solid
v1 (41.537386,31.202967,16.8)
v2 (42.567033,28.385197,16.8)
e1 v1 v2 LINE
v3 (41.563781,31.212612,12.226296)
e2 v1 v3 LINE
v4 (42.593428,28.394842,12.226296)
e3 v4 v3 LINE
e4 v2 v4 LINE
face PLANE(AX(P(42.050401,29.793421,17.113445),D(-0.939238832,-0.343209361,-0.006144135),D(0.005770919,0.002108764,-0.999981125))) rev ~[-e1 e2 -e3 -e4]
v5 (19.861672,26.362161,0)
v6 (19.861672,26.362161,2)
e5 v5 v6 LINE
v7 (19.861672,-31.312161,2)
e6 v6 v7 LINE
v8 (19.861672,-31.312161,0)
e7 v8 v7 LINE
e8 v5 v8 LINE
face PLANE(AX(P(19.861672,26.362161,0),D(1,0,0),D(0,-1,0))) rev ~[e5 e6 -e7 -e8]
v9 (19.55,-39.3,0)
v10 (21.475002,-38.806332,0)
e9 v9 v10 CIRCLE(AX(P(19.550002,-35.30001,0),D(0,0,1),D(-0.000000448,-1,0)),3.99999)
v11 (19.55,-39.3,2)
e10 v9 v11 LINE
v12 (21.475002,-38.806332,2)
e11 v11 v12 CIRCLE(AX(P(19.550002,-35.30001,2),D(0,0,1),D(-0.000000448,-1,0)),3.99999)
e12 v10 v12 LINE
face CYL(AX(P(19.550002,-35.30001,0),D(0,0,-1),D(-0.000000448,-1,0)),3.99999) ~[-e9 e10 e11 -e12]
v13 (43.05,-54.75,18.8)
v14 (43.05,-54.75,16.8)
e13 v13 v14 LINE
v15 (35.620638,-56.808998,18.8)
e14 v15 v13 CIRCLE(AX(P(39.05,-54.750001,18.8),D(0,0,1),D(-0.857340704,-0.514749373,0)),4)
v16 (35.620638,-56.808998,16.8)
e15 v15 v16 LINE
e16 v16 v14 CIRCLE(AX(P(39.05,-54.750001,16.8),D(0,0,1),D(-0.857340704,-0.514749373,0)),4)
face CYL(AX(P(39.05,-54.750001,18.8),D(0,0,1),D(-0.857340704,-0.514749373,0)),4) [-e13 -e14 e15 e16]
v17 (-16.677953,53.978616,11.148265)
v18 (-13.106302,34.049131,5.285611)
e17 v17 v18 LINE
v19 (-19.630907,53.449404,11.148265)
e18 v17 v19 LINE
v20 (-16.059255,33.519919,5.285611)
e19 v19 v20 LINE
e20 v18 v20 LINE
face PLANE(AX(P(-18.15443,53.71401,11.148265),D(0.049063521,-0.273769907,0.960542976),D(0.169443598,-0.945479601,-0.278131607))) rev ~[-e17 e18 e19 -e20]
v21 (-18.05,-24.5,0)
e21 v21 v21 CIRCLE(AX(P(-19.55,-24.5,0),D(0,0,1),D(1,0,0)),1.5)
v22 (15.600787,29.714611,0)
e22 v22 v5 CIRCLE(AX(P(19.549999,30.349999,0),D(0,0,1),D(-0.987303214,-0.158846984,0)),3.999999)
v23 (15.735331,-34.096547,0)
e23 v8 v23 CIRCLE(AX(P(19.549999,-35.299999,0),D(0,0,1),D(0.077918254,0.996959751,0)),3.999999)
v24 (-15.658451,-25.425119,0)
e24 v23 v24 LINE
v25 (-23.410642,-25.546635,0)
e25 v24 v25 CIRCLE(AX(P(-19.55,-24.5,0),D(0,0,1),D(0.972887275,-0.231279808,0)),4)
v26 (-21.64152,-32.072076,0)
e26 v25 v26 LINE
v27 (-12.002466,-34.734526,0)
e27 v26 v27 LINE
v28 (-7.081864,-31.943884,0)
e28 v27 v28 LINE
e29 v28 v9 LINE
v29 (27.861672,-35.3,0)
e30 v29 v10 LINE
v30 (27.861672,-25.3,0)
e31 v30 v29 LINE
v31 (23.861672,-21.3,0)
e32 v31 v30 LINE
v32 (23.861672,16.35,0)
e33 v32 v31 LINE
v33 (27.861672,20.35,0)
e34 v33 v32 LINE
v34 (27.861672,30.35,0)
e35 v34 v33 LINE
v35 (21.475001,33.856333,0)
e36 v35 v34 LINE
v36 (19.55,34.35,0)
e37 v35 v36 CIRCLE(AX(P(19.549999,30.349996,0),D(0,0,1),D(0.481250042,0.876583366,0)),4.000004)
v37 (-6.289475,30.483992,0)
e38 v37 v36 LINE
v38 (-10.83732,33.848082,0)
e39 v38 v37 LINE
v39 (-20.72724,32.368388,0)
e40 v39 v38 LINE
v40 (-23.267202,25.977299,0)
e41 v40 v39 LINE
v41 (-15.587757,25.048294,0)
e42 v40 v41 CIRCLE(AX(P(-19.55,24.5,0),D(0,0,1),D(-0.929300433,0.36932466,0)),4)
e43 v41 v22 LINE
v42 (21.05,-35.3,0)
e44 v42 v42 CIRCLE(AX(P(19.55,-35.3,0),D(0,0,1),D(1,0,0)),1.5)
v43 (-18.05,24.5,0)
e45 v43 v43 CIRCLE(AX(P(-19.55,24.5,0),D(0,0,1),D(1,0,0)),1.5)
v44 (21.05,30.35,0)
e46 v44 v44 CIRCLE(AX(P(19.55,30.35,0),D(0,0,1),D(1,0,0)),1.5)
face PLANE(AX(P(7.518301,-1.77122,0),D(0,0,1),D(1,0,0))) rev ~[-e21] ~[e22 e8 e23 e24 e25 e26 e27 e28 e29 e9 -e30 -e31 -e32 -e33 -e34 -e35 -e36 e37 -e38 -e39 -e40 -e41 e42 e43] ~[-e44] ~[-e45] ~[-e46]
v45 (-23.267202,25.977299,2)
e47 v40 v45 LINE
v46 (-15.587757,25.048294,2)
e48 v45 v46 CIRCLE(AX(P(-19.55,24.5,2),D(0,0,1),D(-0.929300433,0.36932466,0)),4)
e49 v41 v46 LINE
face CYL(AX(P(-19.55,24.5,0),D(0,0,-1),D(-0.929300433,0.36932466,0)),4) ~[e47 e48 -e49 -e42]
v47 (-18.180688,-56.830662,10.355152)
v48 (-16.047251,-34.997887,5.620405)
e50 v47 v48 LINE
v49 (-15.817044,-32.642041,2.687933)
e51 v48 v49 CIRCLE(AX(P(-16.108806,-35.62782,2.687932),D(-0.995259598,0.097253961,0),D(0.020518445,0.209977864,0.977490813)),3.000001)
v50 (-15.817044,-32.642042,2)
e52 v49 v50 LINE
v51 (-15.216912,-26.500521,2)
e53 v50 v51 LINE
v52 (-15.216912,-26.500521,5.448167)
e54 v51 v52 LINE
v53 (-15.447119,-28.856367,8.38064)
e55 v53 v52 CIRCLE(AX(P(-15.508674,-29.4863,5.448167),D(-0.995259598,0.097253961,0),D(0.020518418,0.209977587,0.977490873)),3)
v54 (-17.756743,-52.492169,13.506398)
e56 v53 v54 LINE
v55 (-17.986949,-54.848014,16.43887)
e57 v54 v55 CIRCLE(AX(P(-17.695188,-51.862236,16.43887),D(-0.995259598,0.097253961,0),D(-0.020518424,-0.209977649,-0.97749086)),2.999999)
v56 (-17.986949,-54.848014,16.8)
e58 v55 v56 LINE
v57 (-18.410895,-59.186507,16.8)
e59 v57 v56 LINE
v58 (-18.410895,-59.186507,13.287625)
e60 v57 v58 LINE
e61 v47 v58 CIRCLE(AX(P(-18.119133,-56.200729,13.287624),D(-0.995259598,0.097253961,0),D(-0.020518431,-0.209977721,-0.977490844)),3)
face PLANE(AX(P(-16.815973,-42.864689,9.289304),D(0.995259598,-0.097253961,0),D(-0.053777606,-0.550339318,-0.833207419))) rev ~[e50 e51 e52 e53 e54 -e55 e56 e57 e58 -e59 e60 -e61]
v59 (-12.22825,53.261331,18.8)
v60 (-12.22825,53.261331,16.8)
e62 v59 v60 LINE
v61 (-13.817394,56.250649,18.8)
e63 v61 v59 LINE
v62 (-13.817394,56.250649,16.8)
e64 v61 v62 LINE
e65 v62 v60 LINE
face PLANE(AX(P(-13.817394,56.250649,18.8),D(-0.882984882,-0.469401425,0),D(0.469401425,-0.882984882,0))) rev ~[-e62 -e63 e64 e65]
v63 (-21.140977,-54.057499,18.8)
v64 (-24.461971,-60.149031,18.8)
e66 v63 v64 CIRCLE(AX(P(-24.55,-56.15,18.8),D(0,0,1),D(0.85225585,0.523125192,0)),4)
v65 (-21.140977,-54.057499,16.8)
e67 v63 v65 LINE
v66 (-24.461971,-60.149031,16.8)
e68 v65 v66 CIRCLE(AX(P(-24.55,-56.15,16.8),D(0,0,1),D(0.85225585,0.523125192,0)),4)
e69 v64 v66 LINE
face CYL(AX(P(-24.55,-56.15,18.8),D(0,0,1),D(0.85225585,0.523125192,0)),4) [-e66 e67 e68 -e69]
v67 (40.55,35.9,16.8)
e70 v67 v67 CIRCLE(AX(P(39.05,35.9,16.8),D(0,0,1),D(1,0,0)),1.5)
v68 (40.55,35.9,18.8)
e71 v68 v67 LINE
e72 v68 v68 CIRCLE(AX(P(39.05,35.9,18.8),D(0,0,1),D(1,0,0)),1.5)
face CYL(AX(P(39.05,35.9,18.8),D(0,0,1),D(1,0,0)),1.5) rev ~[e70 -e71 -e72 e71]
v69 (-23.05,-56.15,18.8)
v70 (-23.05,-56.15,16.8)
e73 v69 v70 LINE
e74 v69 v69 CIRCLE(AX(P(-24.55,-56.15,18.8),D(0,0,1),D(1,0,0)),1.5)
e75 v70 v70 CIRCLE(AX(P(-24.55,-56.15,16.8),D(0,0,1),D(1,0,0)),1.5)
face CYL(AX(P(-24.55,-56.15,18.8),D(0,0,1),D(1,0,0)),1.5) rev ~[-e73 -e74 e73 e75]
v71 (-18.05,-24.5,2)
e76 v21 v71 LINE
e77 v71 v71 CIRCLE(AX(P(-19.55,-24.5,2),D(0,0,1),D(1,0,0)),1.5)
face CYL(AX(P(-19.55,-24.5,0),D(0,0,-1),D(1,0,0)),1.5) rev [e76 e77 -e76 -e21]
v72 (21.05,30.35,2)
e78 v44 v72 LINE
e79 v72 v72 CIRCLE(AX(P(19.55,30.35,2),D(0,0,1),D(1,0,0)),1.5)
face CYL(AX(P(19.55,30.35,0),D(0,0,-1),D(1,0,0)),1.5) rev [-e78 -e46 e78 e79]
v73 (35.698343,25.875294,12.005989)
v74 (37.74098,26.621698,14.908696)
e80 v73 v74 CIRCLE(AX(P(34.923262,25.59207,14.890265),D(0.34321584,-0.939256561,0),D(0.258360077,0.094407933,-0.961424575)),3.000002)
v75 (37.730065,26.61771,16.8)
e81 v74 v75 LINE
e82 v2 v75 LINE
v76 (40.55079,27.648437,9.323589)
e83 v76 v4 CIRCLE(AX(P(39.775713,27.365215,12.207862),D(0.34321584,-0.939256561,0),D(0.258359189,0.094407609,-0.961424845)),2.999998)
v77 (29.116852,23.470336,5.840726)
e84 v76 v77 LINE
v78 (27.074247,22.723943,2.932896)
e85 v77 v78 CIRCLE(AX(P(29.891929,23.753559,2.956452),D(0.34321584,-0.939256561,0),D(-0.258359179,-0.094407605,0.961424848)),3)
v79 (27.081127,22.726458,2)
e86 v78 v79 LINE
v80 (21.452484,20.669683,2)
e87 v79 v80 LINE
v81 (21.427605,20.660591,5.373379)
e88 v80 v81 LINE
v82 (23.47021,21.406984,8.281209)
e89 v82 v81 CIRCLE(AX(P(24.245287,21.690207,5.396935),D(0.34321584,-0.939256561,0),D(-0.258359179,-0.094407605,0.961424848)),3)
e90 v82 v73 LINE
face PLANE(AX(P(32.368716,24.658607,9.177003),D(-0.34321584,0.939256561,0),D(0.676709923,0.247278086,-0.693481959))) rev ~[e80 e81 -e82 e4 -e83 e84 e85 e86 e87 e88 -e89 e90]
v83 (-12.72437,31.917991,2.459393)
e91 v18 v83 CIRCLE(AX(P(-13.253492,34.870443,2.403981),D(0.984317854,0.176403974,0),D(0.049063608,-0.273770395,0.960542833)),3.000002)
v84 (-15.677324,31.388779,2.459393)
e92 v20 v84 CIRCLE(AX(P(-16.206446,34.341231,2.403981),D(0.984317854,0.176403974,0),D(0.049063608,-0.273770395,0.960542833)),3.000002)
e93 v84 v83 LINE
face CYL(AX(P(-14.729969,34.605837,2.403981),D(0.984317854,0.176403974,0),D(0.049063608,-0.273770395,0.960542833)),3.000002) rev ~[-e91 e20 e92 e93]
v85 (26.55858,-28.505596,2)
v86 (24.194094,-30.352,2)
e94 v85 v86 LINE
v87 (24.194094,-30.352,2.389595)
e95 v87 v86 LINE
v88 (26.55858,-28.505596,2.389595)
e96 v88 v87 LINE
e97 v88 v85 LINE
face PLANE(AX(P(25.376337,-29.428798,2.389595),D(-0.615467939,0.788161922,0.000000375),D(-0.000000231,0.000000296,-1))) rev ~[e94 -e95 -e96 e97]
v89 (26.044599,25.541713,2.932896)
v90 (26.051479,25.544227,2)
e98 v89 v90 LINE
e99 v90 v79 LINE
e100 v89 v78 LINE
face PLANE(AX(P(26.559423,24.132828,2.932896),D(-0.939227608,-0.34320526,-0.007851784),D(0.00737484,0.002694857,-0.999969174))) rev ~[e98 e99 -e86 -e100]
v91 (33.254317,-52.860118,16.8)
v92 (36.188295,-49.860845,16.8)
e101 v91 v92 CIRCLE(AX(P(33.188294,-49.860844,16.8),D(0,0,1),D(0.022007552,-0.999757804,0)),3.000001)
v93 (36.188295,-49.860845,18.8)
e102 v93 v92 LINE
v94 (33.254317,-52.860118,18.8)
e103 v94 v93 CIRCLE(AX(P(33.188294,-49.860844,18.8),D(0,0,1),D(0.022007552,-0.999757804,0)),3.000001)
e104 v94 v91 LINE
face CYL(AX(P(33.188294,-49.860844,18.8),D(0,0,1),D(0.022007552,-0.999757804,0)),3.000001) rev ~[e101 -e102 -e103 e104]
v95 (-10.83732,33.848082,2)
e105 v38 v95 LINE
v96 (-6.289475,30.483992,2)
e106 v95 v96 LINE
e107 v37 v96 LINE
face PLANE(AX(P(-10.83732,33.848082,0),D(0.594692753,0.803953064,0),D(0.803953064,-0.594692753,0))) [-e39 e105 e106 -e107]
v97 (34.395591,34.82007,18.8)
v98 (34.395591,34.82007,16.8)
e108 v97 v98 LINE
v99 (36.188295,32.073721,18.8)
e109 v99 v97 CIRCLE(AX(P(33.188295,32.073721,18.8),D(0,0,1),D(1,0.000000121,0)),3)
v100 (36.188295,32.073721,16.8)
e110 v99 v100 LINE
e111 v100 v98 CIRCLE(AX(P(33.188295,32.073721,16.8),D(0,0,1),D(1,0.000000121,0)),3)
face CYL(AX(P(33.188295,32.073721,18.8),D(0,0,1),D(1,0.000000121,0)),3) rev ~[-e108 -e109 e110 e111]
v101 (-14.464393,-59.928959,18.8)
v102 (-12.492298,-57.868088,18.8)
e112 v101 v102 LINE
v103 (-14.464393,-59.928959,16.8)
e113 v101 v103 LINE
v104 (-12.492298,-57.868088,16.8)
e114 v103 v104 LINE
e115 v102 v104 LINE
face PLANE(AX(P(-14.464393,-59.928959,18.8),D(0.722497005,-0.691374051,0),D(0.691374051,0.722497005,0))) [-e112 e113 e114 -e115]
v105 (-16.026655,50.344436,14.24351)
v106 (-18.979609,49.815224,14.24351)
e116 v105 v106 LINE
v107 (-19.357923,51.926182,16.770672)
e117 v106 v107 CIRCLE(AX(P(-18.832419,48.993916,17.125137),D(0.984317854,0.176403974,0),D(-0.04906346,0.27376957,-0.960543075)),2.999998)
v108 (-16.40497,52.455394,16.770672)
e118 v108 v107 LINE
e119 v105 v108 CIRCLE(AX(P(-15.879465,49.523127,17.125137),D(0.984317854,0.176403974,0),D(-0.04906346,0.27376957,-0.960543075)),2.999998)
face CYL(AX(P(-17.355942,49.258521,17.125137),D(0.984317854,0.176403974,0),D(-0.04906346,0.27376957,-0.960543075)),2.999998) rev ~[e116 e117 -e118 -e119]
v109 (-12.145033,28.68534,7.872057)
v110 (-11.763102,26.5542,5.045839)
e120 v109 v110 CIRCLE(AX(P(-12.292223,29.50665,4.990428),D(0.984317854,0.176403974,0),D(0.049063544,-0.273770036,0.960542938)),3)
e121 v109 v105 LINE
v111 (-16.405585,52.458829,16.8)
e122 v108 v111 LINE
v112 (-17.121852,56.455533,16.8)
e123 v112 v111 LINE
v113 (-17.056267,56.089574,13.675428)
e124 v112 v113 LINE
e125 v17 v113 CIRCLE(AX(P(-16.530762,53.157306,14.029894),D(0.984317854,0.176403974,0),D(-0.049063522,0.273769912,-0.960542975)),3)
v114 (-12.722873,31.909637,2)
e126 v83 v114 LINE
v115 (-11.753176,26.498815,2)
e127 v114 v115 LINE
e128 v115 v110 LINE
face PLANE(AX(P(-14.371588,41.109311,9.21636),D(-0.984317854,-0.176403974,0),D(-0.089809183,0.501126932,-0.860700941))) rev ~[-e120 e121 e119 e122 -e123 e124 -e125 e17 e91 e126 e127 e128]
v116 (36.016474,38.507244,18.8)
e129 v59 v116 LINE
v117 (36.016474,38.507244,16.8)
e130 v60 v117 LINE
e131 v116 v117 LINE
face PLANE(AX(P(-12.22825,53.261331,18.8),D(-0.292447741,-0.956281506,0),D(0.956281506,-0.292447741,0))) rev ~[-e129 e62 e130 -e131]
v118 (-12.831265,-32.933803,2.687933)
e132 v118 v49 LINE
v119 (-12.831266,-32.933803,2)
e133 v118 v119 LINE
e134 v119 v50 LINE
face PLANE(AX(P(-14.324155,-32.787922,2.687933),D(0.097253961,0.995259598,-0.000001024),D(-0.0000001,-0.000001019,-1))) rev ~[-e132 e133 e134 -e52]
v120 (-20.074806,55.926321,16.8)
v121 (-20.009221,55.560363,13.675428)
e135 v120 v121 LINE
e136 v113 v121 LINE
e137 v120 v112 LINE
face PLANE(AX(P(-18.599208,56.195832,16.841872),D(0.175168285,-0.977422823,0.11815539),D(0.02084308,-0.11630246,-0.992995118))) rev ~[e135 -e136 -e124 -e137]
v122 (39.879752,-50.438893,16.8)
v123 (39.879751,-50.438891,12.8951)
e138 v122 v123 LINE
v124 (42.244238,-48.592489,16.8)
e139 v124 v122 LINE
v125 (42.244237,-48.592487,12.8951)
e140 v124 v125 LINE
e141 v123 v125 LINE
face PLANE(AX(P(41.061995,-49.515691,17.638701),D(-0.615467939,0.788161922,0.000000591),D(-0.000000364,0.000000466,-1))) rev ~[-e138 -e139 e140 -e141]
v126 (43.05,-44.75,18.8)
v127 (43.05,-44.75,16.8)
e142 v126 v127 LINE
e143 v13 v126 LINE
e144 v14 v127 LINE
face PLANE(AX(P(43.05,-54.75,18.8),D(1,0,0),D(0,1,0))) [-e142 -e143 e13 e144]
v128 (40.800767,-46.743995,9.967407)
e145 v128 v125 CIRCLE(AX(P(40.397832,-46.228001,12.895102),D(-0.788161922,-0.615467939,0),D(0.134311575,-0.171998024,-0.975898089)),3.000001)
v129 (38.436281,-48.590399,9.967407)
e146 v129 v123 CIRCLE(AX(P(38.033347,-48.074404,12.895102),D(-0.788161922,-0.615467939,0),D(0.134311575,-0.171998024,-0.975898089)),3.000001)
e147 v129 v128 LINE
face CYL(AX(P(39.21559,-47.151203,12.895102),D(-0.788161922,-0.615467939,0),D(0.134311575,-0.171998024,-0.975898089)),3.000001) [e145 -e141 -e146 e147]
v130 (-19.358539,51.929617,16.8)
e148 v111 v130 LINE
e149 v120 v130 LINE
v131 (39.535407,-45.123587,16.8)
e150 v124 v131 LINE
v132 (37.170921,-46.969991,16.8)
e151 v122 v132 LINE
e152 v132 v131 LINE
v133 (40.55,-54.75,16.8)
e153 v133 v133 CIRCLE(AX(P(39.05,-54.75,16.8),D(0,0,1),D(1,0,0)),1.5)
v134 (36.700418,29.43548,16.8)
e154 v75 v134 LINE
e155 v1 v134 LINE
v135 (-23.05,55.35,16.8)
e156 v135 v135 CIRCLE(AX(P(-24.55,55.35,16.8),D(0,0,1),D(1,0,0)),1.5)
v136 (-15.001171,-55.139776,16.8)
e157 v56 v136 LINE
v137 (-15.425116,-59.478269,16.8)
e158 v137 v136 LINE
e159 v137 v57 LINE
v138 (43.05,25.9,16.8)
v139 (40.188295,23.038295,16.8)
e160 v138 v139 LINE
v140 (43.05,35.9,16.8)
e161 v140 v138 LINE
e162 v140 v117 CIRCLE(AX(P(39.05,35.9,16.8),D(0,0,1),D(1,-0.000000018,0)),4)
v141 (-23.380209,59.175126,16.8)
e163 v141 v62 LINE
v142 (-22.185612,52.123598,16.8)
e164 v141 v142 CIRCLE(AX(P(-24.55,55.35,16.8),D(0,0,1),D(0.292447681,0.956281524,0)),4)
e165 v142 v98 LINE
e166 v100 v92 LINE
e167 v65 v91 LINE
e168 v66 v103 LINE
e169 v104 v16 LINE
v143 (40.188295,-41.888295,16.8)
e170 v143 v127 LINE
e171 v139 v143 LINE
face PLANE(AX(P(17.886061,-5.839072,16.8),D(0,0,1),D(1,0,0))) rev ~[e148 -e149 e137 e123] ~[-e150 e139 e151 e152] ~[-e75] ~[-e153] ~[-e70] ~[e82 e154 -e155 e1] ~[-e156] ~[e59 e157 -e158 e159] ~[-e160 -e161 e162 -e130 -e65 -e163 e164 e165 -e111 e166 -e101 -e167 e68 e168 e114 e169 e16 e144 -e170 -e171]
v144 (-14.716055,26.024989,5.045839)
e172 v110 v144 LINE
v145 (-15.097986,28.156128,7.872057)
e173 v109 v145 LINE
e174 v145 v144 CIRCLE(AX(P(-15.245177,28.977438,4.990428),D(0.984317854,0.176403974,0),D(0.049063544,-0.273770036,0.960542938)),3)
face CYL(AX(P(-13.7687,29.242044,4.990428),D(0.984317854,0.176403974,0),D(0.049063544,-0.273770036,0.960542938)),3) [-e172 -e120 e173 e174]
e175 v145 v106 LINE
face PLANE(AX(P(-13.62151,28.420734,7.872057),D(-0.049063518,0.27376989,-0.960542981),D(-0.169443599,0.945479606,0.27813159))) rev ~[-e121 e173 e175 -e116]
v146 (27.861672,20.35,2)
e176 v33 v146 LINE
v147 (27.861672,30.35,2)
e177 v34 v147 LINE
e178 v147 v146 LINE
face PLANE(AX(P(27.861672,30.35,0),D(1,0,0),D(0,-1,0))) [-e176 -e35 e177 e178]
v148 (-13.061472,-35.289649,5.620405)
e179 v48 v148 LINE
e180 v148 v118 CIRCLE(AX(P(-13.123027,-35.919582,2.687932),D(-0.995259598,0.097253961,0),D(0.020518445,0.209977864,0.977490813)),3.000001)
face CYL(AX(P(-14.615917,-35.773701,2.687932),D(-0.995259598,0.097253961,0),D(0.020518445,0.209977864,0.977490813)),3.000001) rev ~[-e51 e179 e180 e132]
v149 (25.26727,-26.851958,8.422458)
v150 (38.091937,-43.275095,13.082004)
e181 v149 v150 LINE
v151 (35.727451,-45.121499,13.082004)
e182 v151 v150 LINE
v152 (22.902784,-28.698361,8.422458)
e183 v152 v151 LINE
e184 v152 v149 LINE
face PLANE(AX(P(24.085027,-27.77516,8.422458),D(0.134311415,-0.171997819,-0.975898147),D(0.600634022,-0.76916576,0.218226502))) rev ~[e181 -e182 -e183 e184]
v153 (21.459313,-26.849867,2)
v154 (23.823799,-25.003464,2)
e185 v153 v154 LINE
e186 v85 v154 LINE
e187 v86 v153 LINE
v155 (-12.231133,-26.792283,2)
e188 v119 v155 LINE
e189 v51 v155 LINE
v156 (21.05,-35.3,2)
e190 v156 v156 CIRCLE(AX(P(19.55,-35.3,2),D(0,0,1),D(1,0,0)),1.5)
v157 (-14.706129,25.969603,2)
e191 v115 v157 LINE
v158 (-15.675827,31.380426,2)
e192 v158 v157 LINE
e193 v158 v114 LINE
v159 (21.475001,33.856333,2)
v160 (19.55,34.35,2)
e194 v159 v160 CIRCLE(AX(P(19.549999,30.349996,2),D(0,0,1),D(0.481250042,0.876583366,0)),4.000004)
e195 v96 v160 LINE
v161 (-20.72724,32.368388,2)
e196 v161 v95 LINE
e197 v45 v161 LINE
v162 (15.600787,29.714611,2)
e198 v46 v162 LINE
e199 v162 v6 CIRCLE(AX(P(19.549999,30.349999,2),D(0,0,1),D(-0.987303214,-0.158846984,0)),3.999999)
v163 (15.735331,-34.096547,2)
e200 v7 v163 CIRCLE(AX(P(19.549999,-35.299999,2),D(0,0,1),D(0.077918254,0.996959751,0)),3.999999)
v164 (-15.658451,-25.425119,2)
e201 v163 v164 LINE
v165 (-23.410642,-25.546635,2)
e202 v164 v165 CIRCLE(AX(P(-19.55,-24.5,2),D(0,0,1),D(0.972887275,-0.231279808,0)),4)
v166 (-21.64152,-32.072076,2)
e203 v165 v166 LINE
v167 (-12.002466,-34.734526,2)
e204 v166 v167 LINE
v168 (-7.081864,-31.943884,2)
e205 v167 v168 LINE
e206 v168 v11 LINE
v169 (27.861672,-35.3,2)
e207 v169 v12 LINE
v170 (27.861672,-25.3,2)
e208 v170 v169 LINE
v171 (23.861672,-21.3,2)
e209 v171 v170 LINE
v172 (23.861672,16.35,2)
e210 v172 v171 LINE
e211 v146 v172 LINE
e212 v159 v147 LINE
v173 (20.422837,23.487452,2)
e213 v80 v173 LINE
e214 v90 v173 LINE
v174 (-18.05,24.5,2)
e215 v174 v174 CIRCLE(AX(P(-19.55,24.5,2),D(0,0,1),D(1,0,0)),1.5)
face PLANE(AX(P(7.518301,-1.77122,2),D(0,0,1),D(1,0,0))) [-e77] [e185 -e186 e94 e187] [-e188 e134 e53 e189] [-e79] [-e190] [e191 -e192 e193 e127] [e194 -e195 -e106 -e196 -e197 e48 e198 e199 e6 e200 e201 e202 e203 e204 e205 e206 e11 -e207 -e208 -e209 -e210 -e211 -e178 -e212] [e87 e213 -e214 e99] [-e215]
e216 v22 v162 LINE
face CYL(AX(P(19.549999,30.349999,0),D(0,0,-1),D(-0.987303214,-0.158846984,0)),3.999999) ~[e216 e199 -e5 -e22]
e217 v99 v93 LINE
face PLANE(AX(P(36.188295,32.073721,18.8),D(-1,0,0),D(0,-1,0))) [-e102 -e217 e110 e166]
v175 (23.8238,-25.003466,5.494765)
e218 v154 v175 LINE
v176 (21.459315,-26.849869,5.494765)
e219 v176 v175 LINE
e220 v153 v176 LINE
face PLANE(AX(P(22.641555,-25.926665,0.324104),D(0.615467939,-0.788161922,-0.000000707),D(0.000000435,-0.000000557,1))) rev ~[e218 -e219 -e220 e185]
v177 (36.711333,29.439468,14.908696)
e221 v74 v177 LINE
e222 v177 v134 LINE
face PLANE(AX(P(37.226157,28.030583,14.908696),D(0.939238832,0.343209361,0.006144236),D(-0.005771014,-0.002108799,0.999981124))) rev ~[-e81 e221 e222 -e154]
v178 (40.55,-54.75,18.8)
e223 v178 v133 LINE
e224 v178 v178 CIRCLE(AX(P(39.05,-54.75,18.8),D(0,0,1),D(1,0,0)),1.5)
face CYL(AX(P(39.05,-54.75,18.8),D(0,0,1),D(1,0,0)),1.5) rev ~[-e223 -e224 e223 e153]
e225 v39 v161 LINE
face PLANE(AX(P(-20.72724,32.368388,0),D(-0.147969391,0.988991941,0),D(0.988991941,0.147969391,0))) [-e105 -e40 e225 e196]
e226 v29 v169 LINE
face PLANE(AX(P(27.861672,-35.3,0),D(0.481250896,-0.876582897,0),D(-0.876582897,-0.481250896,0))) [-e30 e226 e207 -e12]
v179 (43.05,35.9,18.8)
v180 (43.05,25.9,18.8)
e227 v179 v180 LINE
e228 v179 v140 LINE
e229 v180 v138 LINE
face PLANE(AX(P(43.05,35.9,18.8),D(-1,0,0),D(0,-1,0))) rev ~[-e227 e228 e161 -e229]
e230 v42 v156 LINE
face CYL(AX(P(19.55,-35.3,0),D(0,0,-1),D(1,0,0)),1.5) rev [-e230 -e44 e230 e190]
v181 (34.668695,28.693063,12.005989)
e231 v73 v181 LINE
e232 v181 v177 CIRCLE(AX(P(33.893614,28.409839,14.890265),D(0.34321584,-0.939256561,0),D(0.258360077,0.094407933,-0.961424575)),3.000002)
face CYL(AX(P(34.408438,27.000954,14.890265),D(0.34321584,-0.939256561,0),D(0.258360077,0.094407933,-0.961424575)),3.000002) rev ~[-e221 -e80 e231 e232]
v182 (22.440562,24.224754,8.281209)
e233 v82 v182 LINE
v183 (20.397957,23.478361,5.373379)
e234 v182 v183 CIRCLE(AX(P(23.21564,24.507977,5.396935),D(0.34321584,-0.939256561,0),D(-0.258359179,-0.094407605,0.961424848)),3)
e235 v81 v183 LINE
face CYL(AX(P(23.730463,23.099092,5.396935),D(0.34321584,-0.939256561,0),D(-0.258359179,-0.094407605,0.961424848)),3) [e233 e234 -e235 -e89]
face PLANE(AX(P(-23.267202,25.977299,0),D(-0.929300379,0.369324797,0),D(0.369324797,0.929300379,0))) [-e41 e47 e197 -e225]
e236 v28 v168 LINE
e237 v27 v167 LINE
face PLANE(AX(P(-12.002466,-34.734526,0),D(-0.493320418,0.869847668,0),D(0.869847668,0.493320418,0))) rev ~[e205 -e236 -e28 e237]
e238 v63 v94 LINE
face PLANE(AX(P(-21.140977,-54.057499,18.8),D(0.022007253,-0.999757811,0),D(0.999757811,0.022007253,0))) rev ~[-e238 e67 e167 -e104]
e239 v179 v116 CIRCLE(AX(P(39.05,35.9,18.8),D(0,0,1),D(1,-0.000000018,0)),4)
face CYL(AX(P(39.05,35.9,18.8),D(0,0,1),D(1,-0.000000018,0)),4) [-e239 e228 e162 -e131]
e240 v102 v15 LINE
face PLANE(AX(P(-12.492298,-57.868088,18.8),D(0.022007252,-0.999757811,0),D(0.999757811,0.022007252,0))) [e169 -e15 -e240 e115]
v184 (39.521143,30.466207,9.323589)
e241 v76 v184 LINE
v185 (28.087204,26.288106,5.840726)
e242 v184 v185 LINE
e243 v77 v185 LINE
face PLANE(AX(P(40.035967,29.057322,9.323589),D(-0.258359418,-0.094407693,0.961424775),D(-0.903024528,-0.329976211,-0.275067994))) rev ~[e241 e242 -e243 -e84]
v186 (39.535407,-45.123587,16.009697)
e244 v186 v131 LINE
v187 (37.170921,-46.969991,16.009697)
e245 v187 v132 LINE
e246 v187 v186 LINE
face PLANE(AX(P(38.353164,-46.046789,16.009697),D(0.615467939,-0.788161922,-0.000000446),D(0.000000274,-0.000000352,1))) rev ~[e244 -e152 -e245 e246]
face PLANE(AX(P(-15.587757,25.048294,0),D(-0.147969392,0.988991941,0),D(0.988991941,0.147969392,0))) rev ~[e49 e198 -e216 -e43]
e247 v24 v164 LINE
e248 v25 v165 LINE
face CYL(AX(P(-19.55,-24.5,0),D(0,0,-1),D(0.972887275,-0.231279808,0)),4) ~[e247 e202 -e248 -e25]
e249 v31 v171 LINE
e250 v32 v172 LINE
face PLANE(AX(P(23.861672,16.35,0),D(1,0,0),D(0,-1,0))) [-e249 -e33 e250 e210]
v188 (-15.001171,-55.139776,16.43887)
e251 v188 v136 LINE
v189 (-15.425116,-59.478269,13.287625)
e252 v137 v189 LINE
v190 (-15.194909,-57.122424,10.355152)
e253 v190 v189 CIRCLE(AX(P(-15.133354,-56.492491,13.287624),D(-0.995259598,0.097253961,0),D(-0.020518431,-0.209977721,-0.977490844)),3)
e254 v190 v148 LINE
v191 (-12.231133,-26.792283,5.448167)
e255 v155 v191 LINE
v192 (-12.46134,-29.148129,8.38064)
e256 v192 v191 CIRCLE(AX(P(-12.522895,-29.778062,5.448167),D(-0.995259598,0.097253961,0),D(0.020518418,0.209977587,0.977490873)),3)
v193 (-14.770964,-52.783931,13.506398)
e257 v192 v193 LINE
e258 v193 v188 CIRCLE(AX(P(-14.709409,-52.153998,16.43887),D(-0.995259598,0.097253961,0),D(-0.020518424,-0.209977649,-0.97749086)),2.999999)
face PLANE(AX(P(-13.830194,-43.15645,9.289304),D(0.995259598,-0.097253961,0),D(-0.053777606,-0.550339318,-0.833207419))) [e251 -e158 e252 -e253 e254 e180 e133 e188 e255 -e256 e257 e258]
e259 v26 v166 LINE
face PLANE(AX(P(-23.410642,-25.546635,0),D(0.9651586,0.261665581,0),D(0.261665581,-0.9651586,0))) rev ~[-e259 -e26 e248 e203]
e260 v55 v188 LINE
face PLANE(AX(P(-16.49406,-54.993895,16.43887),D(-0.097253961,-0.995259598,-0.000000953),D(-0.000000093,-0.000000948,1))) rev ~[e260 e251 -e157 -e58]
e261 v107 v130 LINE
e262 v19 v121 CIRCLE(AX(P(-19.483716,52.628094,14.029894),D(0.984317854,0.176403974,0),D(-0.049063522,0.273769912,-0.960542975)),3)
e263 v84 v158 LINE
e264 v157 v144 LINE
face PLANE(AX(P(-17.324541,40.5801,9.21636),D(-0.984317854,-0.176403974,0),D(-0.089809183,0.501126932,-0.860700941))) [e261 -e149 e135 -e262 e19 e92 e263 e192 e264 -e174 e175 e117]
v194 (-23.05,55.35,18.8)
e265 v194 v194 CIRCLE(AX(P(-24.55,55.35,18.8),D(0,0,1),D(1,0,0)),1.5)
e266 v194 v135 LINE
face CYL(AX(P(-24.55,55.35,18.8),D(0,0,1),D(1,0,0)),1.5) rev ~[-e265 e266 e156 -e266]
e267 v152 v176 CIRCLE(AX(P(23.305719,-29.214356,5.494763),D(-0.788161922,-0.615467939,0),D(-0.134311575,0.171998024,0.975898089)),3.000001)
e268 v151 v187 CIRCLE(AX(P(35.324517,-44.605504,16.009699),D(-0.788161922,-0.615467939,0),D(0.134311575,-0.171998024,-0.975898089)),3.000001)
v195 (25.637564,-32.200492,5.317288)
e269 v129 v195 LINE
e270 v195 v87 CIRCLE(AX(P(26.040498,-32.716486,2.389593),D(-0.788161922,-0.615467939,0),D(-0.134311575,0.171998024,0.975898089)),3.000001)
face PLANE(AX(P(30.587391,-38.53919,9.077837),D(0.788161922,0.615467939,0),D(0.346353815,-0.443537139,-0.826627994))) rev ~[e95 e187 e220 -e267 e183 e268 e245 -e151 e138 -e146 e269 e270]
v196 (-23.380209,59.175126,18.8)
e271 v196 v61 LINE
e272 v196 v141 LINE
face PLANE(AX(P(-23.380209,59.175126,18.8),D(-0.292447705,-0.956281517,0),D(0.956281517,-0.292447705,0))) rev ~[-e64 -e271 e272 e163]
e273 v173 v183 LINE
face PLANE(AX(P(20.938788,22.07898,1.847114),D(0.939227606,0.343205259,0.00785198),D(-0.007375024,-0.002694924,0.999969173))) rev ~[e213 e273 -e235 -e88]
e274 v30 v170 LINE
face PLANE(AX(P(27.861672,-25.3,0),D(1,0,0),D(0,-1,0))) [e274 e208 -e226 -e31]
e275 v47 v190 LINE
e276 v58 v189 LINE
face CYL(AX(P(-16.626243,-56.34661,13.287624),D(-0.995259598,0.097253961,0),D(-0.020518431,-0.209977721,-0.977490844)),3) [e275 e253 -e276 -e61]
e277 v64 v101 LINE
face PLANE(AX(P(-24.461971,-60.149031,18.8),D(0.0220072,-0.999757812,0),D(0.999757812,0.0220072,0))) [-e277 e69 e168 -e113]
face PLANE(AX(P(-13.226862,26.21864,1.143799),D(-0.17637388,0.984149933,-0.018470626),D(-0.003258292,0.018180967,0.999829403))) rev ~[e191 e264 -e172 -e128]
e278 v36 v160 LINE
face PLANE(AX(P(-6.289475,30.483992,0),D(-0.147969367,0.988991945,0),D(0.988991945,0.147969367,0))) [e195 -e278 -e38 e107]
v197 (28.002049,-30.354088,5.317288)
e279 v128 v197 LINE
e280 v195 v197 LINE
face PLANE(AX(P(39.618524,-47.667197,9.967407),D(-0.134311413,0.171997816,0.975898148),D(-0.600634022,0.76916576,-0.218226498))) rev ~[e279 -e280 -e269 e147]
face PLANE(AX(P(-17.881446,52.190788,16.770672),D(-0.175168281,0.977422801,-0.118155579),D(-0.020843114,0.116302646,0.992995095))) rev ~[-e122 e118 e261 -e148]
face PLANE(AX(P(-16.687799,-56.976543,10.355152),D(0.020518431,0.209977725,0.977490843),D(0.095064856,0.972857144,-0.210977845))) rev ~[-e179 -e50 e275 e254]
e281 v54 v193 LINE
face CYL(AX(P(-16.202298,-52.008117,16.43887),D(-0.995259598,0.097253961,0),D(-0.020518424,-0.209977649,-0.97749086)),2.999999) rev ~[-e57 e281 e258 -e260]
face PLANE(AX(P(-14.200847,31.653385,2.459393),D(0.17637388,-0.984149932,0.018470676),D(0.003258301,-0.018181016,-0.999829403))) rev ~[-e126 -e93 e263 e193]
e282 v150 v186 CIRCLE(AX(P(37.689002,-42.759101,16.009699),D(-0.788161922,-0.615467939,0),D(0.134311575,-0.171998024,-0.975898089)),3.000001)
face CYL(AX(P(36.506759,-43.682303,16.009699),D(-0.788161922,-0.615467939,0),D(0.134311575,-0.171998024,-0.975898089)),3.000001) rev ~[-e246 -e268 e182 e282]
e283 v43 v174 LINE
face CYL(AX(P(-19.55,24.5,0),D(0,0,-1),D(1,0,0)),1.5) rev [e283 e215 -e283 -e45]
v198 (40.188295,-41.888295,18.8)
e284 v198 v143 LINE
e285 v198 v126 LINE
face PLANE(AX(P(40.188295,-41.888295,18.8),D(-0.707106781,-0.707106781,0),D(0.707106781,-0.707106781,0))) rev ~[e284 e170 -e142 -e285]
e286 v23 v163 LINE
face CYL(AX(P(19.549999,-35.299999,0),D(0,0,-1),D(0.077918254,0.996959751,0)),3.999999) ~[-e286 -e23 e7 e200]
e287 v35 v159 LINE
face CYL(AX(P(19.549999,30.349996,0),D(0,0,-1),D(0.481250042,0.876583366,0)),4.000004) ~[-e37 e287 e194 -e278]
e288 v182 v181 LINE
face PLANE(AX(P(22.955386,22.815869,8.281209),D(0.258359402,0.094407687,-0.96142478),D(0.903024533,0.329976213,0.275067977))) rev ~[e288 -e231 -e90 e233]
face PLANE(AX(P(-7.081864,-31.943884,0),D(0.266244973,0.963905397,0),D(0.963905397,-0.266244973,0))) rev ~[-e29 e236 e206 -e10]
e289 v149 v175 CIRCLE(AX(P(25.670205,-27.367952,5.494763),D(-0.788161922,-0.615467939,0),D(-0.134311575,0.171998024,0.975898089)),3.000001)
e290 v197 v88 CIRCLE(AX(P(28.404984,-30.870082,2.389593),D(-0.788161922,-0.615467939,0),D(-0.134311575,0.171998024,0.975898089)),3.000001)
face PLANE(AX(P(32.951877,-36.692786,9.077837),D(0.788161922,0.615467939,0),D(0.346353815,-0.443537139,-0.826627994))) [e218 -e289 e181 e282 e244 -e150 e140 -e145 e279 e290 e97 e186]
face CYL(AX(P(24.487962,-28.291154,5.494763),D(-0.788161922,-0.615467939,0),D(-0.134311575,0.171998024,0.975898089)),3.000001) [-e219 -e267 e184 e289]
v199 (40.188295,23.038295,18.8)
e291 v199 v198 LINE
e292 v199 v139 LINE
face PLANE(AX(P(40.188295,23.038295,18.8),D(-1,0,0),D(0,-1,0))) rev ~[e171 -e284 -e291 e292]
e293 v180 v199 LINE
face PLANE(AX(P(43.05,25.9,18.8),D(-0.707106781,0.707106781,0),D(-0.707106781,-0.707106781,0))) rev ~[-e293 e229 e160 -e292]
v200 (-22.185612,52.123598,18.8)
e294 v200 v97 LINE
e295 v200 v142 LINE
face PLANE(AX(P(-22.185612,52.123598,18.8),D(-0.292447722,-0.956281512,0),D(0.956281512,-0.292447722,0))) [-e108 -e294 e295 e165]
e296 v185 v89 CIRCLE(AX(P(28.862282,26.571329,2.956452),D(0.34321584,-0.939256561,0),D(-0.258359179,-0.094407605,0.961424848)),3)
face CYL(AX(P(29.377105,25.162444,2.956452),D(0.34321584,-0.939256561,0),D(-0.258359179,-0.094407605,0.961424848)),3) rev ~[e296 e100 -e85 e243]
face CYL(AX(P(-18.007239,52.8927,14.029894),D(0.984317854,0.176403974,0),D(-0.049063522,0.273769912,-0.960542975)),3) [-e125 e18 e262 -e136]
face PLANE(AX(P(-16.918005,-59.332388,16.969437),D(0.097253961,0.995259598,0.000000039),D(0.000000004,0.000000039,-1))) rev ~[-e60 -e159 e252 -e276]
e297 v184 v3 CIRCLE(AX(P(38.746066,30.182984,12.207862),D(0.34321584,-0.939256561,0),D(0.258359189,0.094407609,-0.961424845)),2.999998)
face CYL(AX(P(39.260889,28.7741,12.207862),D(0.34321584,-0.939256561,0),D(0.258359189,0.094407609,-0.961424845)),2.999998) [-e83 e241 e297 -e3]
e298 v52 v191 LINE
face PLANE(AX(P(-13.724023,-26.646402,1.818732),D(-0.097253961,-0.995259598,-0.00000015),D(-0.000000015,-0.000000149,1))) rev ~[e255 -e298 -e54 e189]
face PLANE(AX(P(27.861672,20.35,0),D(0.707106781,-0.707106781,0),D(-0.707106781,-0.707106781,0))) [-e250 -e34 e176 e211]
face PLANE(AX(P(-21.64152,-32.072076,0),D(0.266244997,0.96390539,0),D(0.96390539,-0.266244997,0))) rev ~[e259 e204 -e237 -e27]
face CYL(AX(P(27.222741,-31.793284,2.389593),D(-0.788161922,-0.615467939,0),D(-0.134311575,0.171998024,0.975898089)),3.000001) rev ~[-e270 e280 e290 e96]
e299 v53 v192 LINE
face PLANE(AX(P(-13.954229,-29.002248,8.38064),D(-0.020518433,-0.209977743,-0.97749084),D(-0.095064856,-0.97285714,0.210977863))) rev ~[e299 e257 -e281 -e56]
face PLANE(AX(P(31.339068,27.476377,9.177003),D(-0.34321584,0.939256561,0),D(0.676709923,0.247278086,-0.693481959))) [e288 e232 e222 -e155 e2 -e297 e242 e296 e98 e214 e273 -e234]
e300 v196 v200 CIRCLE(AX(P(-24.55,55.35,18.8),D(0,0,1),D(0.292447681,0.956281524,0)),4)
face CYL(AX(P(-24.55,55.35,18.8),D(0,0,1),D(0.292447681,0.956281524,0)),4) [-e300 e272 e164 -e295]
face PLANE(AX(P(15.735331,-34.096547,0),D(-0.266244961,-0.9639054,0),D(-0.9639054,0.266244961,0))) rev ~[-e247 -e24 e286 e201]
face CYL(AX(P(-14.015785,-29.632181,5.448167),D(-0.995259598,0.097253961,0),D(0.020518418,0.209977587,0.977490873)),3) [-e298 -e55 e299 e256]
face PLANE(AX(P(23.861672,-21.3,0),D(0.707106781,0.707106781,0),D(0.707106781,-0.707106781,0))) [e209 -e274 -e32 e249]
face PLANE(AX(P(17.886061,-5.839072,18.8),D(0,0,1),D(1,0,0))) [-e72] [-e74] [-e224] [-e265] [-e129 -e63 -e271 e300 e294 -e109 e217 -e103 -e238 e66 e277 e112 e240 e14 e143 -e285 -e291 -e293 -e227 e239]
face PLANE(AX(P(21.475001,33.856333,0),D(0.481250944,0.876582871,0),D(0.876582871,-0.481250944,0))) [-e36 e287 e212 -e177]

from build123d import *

# Parameters (mm, degrees)
PAD005_DEPTH = 1.5
PAD004_DEPTH = 1.5
PAD003_DEPTH = 1.5
PAD002_DEPTH = 1.5
SKETCH001_R  = 1.5
PAD001_DEPTH = 2
SKETCH_R     = 1.5
PAD_DEPTH    = 2


with BuildPart() as body005:
    # Sketch007 (on DatumPlane) → Pad005 (new body, symmetric)
    with BuildSketch(Plane(origin=(-16.952542, -59.685824, 18.8), x_dir=(0.053778, 0.550339, 0.833207), z_dir=(-0.99526, 0.097254, 0))):
        with BuildLine():
            Line((4.207597, 37.049782), (7.231669, 35.042847))
            ThreePointArc((8.366132, 31.449048), (8.433631, 33.446315), (7.231669, 35.042847))
            Line((8.366132, 31.449048), (-0.494965, 8.82738))
            ThreePointArc((-0.494965, 8.82738), (-0.562464, 6.830114), (0.639498, 5.233582))
            Line((0.639498, 5.233582), (1.08157, 4.940199))
            Line((1.08157, 4.940199), (-1.328872, 1.308117))
            Line((-1.328872, 1.308117), (-4.396585, 3.344014))
            ThreePointArc((-5.531049, 6.937813), (-5.598548, 4.940547), (-4.396585, 3.344014))
            Line((-5.531049, 6.937813), (2.654091, 27.833816))
            ThreePointArc((2.654091, 27.833816), (2.72159, 29.831082), (1.519628, 31.427615))
            Line((1.519628, 31.427615), (0.795403, 31.908248))
            Line((0.795403, 31.908248), (4.207597, 37.049782))
        make_face()
    extrude(amount=PAD005_DEPTH, both=True)


with BuildPart() as body004:
    # Sketch006 (on DatumPlane) → Pad004 (new body, symmetric)
    with BuildSketch(Plane(origin=(39.503273, -47.519607, 18.8), x_dir=(-0.346354, 0.443537, 0.826628), z_dir=(-0.788162, -0.615468, 0))):
        with BuildLine():
            Line((0.144699, 33.044069), (4.41891, 30.134283))
            ThreePointArc((5.519197, 26.54802), (5.598713, 28.534335), (4.41891, 30.134283))
            Line((5.519197, 26.54802), (-2.355235, 6.701201))
            ThreePointArc((-2.355235, 6.701201), (-2.434751, 4.714886), (-1.254948, 3.114938))
            Line((-1.254948, 3.114938), (0.091634, 2.198216))
            Line((0.091634, 2.198216), (-2.385169, -1.439983))
            Line((-2.385169, -1.439983), (-6.306361, 1.229475))
            ThreePointArc((-7.406648, 4.815738), (-7.486164, 2.829423), (-6.306361, 1.229475))
            Line((-7.406648, 4.815738), (0.451851, 24.622399))
            ThreePointArc((0.451851, 24.622399), (0.531367, 26.608714), (-0.648436, 28.208662))
            Line((-0.648436, 28.208662), (-2.355831, 29.371017))
            Line((-2.355831, 29.371017), (0.144699, 33.044069))
        make_face()
    extrude(amount=PAD004_DEPTH, both=True)


with BuildPart() as body003:
    # Sketch005 (on DatumPlane) → Pad003 (new body, symmetric)
    with BuildSketch(Plane(origin=(41.677137, 29.657026, 18.8), x_dir=(-0.67671, -0.247278, 0.693482), z_dir=(0.343216, -0.939257, 0))):
        with BuildLine():
            Line((4.151211, 27.525873), (6.616561, 25.004493))
            ThreePointArc((7.066271, 21.401359), (7.448444, 23.27869), (6.616561, 25.004493))
            Line((7.066271, 21.401359), (0.269525, 9.689346))
            ThreePointArc((0.269525, 9.689346), (-0.112963, 7.814558), (0.715657, 6.089879))
            Line((0.715657, 6.089879), (2.232289, 4.53347))
            Line((2.232289, 4.53347), (-1.455914, 0.939527))
            Line((-1.455914, 0.939527), (-4.866698, 4.439767))
            ThreePointArc((-5.31283, 8.039234), (-5.695319, 6.164446), (-4.866698, 4.439767))
            Line((-5.31283, 8.039234), (1.04248, 18.990574))
            ThreePointArc((1.04248, 18.990574), (1.424653, 20.867905), (0.59277, 22.593708))
            Line((0.59277, 22.593708), (-0.133446, 23.336429))
            Line((-0.133446, 23.336429), (4.151211, 27.525873))
        make_face()
    extrude(amount=PAD003_DEPTH, both=True)


with BuildPart() as body002:
    # Sketch004 (on DatumPlane) → Pad002 (new body, symmetric)
    with BuildSketch(Plane(origin=(-18.553723, 55.942029, 16.8), x_dir=(0.089809, -0.501127, 0.860701), z_dir=(0.984318, 0.176404, 0))):
        with BuildLine():
            Line((1.898285, 33.961279), (5.220075, 31.912664))
            ThreePointArc((6.550331, 28.610308), (6.428026, 30.480147), (5.220075, 31.912664))
            Line((6.550331, 28.610308), (0.831685, 6.427524))
            ThreePointArc((0.831685, 6.427524), (0.901463, 4.698108), (1.914982, 3.295067))
            Line((1.914982, 3.295067), (2.353125, 2.960199))
            Line((2.353125, 2.960199), (-0.095233, -0.243246))
            Line((-0.095233, -0.243246), (-2.628776, 1.693113))
            ThreePointArc((-3.712073, 4.82557), (-3.642295, 3.096155), (-2.628776, 1.693113))
            Line((-3.712073, 4.82557), (1.549904, 25.236924))
            ThreePointArc((1.549904, 25.236924), (1.427599, 27.106762), (0.219648, 28.53928))
            Line((0.219648, 28.53928), (-0.986732, 29.283279))
            Line((-0.986732, 29.283279), (1.898285, 33.961279))
        make_face()
    extrude(amount=PAD002_DEPTH, both=True)


with BuildPart() as top:
    # Sketch001 → Pad001 (new body)
    with BuildSketch(Plane.XY.offset(18.8)):
        with BuildLine():
            Line((36.188295, 32.073721), (36.188295, -49.860845))
            ThreePointArc((33.254317, -52.860118), (35.33283, -51.958693), (36.188295, -49.860845))
            Line((-21.140977, -54.057499), (33.254317, -52.860118))
            ThreePointArc((-21.140977, -54.057499), (-28.061985, -54.235329), (-24.461971, -60.149031))
            Line((-24.461971, -60.149031), (-14.464393, -59.928959))
            Line((-14.464393, -59.928959), (-12.492298, -57.868088))
            Line((-12.492298, -57.868088), (35.620638, -56.808998))
            ThreePointArc((35.620638, -56.808998), (40.118305, -58.604702), (43.05, -54.75))
            Line((43.05, -54.75), (43.05, -44.75))
            Line((40.188295, -41.888295), (43.05, -44.75))
            Line((40.188295, 23.038295), (40.188295, -41.888295))
            Line((43.05, 25.9), (40.188295, 23.038295))
            Line((43.05, 35.9), (43.05, 25.9))
            ThreePointArc((43.05, 35.9), (40.440305, 39.650607), (36.016474, 38.507244))
            Line((-12.22825, 53.261331), (36.016474, 38.507244))
            Line((-13.817394, 56.250649), (-12.22825, 53.261331))
            Line((-23.380209, 59.175126), (-13.817394, 56.250649))
            ThreePointArc((-23.380209, 59.175126), (-28.493807, 54.681881), (-22.185612, 52.123598))
            Line((-22.185612, 52.123598), (34.395591, 34.82007))
            ThreePointArc((36.188295, 32.073721), (35.700454, 33.713555), (34.395591, 34.82007))
        make_face()
        with Locations((-24.55, 55.35)):
            Circle(SKETCH001_R, mode=Mode.SUBTRACT)
        with Locations((39.05, 35.9)):
            Circle(SKETCH001_R, mode=Mode.SUBTRACT)
        with Locations((39.05, -54.75)):
            Circle(SKETCH001_R, mode=Mode.SUBTRACT)
        with Locations((-24.55, -56.15)):
            Circle(SKETCH001_R, mode=Mode.SUBTRACT)
    extrude(amount=-PAD001_DEPTH)


with BuildPart() as fusion004:
    # Sketch → Pad (new body)
    with BuildSketch(Plane.XY):
        with BuildLine():
            Line((-15.587757, 25.048294), (15.600787, 29.714611))
            ThreePointArc((15.600787, 29.714611), (17.07661, 27.20638), (19.861672, 26.362161))
            Line((19.861672, 26.362161), (19.861672, -31.312161))
            ThreePointArc((19.861672, -31.312161), (17.312602, -31.984272), (15.735331, -34.096547))
            Line((15.735331, -34.096547), (-15.658451, -25.425119))
            ThreePointArc((-15.658451, -25.425119), (-19.612693, -20.500491), (-23.410642, -25.546635))
            Line((-23.410642, -25.546635), (-21.64152, -32.072076))
            Line((-21.64152, -32.072076), (-12.002466, -34.734526))
            Line((-12.002466, -34.734526), (-7.081864, -31.943884))
            Line((-7.081864, -31.943884), (19.55, -39.3))
            ThreePointArc((19.55, -39.3), (20.543648, -39.174618), (21.475002, -38.806332))
            Line((27.861672, -35.3), (21.475002, -38.806332))
            Line((27.861672, -25.3), (27.861672, -35.3))
            Line((23.861672, -21.3), (27.861672, -25.3))
            Line((23.861672, 16.35), (23.861672, -21.3))
            Line((27.861672, 20.35), (23.861672, 16.35))
            Line((27.861672, 30.35), (27.861672, 20.35))
            Line((21.475001, 33.856333), (27.861672, 30.35))
            ThreePointArc((21.475001, 33.856333), (20.543647, 34.224618), (19.55, 34.35))
            Line((-6.289475, 30.483992), (19.55, 34.35))
            Line((-10.83732, 33.848082), (-6.289475, 30.483992))
            Line((-20.72724, 32.368388), (-10.83732, 33.848082))
            Line((-23.267202, 25.977299), (-20.72724, 32.368388))
            ThreePointArc((-23.267202, 25.977299), (-20.030389, 20.528952), (-15.587757, 25.048294))
        make_face()
        with Locations((-19.55, 24.5)):
            Circle(SKETCH_R, mode=Mode.SUBTRACT)
        with Locations((19.55, 30.35)):
            Circle(SKETCH_R, mode=Mode.SUBTRACT)
        with Locations((19.55, -35.3)):
            Circle(SKETCH_R, mode=Mode.SUBTRACT)
        with Locations((-19.55, -24.5)):
            Circle(SKETCH_R, mode=Mode.SUBTRACT)
    extrude(amount=PAD_DEPTH)

    # Fusion: union top
    add(top.part)

    # Fusion001: union Body002
    add(body002.part)

    # Fusion002: union Body003
    add(body003.part)

    # Fusion003: union Body004
    add(body004.part)

    # Fusion004: union Body005
    add(body005.part)


solid = fusion004.part
